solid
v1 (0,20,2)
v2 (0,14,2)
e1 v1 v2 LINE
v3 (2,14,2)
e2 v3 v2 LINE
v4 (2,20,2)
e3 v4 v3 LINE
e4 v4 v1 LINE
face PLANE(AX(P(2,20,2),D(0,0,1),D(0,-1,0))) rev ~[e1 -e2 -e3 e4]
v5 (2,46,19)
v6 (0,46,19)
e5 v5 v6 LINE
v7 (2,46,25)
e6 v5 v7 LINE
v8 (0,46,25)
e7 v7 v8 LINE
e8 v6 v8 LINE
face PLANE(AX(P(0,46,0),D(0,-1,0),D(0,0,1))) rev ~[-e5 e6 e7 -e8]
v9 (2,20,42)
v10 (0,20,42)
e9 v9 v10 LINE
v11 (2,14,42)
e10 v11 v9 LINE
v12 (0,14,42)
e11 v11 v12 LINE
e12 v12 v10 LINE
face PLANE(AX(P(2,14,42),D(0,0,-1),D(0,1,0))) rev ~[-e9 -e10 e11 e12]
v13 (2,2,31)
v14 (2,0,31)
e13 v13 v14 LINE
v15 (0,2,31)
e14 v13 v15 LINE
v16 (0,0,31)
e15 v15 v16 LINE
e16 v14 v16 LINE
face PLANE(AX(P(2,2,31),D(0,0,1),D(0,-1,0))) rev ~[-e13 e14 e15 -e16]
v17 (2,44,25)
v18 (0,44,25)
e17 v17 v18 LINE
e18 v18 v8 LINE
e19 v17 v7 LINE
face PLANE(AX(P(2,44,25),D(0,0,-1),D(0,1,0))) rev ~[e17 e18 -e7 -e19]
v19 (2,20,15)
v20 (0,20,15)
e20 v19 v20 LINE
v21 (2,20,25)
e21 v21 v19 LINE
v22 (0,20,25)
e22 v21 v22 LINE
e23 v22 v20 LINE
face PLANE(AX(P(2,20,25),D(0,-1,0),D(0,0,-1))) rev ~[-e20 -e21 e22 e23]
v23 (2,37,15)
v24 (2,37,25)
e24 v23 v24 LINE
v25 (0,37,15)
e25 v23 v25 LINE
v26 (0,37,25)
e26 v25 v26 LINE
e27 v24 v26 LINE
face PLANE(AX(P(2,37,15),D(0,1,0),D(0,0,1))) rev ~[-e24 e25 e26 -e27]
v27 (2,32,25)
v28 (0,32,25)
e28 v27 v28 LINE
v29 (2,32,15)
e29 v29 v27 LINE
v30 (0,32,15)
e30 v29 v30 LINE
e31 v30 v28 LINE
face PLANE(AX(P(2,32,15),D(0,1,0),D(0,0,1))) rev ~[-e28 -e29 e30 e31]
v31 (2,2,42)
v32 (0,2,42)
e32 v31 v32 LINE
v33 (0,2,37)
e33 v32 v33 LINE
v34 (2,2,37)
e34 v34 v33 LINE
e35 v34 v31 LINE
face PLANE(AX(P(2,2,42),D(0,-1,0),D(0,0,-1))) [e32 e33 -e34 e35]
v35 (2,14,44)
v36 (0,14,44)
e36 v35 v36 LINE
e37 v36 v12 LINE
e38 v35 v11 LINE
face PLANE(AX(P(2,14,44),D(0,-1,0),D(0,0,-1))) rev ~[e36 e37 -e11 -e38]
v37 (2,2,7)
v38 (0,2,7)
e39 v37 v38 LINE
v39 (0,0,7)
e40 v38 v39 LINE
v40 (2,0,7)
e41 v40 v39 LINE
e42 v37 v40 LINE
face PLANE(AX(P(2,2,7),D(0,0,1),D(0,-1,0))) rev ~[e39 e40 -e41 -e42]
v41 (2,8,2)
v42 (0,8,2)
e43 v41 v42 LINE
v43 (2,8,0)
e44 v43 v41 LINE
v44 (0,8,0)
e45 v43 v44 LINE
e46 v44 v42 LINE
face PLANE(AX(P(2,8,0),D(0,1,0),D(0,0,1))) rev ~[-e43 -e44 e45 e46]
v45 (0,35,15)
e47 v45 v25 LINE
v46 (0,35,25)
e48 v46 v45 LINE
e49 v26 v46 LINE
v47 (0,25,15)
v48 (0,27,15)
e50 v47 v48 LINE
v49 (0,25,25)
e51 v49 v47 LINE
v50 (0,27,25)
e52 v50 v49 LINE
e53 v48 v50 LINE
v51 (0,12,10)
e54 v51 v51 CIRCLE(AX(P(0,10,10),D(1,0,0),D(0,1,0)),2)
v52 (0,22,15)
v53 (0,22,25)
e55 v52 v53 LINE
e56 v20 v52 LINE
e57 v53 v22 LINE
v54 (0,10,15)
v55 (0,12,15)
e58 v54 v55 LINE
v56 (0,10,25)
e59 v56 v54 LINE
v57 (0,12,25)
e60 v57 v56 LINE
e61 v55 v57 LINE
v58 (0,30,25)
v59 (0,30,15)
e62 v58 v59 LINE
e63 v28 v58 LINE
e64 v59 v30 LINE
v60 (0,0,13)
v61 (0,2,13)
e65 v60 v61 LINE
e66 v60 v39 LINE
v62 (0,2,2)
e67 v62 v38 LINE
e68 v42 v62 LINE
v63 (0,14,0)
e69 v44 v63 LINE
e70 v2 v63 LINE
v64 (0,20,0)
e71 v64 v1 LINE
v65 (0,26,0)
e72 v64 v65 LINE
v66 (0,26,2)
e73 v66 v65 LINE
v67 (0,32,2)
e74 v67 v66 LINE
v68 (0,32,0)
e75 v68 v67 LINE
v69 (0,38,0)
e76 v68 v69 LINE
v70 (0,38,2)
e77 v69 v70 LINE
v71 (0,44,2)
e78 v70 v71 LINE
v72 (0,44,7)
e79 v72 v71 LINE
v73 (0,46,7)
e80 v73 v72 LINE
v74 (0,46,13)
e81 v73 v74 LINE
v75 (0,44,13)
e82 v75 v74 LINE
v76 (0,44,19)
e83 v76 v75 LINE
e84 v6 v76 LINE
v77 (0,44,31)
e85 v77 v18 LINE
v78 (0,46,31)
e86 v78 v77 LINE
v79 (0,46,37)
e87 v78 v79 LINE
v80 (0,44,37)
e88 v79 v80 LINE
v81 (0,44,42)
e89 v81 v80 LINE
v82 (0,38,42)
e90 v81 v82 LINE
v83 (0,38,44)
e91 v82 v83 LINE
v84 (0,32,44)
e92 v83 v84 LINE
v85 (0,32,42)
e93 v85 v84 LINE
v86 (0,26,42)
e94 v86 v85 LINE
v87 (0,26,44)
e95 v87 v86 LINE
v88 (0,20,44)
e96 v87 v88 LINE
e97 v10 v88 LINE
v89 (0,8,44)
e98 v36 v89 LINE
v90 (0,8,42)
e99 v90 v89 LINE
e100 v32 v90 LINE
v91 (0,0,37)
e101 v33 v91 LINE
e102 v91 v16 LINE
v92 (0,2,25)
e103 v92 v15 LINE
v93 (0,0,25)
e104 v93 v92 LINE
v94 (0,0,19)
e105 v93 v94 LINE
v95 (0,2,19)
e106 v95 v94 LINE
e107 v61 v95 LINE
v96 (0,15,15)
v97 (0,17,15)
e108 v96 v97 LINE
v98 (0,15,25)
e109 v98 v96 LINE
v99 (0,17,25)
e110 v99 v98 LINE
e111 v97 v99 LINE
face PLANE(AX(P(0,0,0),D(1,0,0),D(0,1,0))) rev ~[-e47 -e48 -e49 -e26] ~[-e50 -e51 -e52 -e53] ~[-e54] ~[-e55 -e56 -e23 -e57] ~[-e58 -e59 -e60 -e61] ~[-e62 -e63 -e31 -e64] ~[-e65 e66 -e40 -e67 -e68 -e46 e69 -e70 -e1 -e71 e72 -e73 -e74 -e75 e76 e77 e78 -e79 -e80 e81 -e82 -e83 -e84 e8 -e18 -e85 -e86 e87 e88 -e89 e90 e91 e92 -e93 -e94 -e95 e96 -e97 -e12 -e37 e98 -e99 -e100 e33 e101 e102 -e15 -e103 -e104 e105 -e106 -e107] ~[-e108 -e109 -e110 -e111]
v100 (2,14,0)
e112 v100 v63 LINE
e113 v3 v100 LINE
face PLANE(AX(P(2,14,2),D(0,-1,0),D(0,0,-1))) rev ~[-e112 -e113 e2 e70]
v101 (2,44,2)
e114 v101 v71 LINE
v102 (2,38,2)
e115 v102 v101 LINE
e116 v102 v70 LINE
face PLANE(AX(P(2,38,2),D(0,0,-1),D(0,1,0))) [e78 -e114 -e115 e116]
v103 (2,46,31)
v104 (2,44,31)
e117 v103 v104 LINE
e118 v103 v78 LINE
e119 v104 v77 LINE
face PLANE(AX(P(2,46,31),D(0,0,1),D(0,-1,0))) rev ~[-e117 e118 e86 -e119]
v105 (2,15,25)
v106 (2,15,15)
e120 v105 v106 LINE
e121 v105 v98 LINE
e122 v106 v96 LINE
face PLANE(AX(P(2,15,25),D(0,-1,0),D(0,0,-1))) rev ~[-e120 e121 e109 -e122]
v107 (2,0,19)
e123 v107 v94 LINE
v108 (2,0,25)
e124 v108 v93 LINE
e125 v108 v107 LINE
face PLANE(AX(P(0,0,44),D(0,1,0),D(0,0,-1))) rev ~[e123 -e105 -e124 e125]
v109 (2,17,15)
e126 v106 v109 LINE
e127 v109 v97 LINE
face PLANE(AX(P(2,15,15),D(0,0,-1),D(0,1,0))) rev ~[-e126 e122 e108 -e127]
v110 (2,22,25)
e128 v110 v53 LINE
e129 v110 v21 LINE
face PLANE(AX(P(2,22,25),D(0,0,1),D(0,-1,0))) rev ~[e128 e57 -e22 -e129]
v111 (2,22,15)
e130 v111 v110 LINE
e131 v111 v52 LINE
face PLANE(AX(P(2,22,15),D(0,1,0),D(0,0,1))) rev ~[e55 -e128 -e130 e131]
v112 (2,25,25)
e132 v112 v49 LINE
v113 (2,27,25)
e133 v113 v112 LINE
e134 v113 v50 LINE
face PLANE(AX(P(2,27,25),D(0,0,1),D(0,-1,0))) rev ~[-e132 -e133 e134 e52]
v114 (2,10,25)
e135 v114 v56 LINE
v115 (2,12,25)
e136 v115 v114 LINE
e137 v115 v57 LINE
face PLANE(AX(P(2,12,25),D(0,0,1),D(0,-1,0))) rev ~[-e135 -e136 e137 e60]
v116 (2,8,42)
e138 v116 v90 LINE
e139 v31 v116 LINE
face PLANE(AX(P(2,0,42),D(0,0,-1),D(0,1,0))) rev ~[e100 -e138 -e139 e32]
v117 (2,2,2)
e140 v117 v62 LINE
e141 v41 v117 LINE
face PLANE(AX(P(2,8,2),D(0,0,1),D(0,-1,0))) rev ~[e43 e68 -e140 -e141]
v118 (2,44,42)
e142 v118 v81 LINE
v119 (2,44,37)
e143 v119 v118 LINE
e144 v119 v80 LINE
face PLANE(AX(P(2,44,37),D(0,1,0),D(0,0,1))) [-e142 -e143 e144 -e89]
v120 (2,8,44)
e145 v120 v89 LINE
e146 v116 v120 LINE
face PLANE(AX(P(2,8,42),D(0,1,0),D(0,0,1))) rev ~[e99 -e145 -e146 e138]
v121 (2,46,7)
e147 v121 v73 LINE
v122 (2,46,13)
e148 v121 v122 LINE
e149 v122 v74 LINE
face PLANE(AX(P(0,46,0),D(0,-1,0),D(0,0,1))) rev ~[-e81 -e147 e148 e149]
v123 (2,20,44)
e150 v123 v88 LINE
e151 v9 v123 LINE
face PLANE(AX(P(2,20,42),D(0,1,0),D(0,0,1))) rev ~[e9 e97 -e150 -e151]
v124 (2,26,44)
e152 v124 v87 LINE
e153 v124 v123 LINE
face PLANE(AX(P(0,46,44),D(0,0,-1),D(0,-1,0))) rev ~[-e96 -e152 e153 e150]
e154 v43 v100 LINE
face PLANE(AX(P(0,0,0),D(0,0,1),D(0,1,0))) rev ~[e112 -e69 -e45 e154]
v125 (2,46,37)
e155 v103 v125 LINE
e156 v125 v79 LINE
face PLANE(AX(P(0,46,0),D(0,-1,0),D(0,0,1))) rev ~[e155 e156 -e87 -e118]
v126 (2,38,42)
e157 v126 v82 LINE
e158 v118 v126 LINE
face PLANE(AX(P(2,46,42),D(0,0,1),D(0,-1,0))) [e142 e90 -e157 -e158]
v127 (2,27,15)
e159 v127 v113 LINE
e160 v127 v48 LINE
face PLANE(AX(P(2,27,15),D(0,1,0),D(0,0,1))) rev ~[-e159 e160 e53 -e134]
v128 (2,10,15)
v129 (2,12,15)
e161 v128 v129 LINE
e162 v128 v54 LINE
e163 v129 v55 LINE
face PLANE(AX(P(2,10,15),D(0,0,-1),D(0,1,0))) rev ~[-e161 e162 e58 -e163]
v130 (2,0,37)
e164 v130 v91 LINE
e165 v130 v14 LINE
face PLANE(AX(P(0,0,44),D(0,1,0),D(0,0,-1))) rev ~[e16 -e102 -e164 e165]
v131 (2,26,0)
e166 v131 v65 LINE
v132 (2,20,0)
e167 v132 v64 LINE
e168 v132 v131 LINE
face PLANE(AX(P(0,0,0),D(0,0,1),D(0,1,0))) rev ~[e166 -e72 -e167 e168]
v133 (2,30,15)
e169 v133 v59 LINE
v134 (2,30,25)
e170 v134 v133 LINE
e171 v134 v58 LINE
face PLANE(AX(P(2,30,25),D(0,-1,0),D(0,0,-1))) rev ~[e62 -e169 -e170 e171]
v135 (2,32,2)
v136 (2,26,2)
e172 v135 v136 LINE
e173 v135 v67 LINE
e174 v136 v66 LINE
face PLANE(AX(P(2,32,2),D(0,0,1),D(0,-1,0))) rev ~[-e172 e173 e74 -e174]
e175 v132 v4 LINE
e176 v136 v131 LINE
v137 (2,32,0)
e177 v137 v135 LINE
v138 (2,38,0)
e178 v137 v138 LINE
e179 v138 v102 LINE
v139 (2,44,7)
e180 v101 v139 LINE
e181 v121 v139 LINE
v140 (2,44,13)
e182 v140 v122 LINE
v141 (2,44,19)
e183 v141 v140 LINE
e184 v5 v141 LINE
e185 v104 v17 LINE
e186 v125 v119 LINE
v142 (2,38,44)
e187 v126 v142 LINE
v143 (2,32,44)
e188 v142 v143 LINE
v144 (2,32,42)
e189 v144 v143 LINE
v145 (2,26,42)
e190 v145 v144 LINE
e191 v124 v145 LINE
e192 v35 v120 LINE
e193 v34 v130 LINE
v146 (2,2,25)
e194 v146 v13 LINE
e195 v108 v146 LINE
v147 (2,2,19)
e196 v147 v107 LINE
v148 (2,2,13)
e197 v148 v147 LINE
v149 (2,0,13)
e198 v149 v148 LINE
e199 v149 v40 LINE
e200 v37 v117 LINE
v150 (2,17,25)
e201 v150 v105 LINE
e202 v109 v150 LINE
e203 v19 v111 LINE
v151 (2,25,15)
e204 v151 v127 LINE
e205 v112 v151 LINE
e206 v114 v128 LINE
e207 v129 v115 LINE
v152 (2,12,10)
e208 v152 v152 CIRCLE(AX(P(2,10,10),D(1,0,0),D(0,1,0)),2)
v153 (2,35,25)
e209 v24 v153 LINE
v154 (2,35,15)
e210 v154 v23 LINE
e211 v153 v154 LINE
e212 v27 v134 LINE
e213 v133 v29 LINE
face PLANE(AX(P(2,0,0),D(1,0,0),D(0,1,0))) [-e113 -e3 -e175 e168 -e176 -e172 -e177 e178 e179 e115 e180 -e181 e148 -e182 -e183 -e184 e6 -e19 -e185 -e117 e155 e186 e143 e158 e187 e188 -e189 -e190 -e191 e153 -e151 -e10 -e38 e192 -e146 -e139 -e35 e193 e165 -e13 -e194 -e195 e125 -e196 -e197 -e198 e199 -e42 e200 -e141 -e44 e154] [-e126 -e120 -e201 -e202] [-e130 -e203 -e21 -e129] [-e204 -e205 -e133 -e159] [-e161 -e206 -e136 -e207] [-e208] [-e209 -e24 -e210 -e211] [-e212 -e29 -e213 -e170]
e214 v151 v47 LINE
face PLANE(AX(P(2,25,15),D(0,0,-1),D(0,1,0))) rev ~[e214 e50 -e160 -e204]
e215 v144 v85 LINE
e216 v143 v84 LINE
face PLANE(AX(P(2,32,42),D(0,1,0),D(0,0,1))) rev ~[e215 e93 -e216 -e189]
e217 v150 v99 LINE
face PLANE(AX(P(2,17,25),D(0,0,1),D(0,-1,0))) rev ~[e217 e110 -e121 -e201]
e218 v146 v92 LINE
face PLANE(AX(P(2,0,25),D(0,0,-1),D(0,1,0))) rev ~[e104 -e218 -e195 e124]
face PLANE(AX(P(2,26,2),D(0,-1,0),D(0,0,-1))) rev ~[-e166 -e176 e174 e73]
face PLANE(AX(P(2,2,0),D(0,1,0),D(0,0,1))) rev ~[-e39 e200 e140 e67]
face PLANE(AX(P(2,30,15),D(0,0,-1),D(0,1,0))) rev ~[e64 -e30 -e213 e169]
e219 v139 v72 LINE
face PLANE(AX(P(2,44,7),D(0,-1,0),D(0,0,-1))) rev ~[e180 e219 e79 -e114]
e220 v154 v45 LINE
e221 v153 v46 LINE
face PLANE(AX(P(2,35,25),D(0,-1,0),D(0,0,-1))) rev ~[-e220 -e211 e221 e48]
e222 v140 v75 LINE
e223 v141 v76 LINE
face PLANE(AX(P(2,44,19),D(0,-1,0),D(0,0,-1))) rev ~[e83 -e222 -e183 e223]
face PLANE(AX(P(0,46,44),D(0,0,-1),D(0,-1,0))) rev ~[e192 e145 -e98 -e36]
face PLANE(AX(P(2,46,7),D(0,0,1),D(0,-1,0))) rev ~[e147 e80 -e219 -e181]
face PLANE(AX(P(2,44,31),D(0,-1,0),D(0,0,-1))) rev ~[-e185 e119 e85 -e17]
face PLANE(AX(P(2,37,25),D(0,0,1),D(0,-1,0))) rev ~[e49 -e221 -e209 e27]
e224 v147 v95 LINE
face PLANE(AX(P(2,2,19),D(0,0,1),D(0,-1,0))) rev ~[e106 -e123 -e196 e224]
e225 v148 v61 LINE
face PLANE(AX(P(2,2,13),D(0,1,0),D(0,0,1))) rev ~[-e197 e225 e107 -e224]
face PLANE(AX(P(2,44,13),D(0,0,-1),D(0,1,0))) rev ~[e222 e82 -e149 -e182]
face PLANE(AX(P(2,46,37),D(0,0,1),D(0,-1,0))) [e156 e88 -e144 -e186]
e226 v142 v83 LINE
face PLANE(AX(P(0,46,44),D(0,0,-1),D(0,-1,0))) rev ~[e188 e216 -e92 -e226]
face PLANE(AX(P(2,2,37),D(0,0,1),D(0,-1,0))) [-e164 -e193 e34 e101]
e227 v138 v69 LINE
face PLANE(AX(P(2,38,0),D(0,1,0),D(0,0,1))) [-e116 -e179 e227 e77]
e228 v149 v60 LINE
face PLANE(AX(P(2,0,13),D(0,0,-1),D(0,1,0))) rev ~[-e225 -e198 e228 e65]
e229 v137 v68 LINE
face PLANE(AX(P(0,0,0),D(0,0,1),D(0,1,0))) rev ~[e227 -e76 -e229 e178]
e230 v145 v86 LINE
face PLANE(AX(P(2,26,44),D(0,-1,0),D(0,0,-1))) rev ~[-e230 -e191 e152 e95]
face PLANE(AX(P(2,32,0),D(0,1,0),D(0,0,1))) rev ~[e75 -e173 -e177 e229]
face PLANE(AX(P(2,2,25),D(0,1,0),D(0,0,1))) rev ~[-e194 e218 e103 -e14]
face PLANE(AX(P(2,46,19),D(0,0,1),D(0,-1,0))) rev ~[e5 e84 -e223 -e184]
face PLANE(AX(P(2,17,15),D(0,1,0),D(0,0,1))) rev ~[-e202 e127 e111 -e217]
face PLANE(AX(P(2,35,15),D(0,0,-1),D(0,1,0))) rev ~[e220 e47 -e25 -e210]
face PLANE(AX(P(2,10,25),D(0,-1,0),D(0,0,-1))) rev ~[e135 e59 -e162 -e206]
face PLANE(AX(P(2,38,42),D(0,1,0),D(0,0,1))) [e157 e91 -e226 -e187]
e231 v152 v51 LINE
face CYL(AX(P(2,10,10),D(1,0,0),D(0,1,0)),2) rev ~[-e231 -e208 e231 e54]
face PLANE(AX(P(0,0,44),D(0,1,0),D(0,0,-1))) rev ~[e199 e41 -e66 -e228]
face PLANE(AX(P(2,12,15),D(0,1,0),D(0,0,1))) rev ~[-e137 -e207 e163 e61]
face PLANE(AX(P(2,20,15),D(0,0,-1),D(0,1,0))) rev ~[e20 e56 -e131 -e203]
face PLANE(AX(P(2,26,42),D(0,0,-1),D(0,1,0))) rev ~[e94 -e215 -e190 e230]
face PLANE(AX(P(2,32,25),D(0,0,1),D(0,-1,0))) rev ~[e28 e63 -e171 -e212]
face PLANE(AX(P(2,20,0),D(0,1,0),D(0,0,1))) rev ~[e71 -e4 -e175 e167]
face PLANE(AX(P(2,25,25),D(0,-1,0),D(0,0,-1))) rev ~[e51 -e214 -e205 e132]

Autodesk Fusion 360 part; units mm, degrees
sketch "スケッチ1" plane through (0, 0, 0) normal (1, 0, 0) x (0, 1, 0)
  line L0 (0, 0) -> (46, 0)
  line L1 (46, 0) -> (46, 44)
  line L2 (46, 44) -> (0, 44)
  line L3 (0, 44) -> (0, 0)
  dimension "d1" = 46
  dimension "d2" = 44
extrude "押し出し1" add sketch "スケッチ1" along normal blind 2
sketch "スケッチ2" plane through (2, 0, 0) normal (1, 0, 0) x (0, 1, 0)
  line L0 (0, 44) -> (0, 0)
  line L1 (0, 0) -> (46, 0)
  line L2 (46, 0) -> (46, 44)
  line L3 (46, 44) -> (0, 44)
  line L4 (0, 0) -> (8, 0)
  line L5 (8, 0) -> (8, 2)
  line L6 (8, 2) -> (0, 2)
  line L7 (0, 2) -> (0, 0)
  line L8 (14, 0) -> (20, 0)
  line L9 (20, 0) -> (20, 2)
  line L10 (20, 2) -> (14, 2)
  line L11 (14, 2) -> (14, 0)
  line L12 (26, 0) -> (32, 0)
  line L13 (32, 0) -> (32, 2)
  line L14 (32, 2) -> (26, 2)
  line L15 (26, 2) -> (26, 0)
  line L16 (46, 0) -> (38, 0)
  line L17 (38, 0) -> (38, 2)
  line L18 (38, 2) -> (46, 2)
  line L19 (46, 2) -> (46, 0)
  line L20 (32, 42) -> (32, 44)
  line L21 (32, 44) -> (26, 44)
  line L22 (20, 42) -> (20, 44)
  line L23 (38, 42) -> (38, 44)
  line L24 (38, 44) -> (46, 44)
  line L25 (46, 44) -> (46, 42)
  line L26 (0, 42) -> (8, 42)
  line L27 (26, 44) -> (26, 42)
  line L28 (8, 42) -> (8, 44)
  line L29 (8, 44) -> (0, 44)
  line L30 (0, 44) -> (0, 42)
  line L31 (20, 44) -> (14, 44)
  line L32 (26, 42) -> (32, 42)
  line L33 (46, 42) -> (38, 42)
  line L34 (14, 42) -> (20, 42)
  line L35 (14, 44) -> (14, 42)
  point P0 (0, 42)
  dimension "d5" = 8
  dimension "d6" = 2
  dimension "d7" = 6
  dimension "d8" = 2
  dimension "d9" = 6
  dimension "d10" = 6
  dimension "d11" = 2
  dimension "d12" = 6
  dimension "d13" = 6
  dimension "d14" = 2
extrude "押し出し2" cut sketch "スケッチ2" against normal blind 2 contours L0 L3 L26 L28 L29 L30 | L0 L1 L4 L5 L6 L7 | L3 L22 L31 L34 L35 | L3 L20 L21 L27 L32 | L1 L8 L9 L10 L11 | L2 L3 L23 L24 L25 L33 | L1 L12 L13 L14 L15 | L1 L2 L16 L17 L18 L19
sketch "スケッチ3" plane through (2, 0, 0) normal (1, 0, 0) x (0, 1, 0)
  line L0 (8, 2) -> (8, 0)
  line L1 (8, 0) -> (14, 0)
  line L2 (14, 0) -> (14, 2)
  line L3 (14, 2) -> (20, 2)
  line L4 (20, 2) -> (20, 0)
  line L5 (20, 0) -> (26, 0)
  line L6 (26, 0) -> (26, 2)
  line L7 (26, 2) -> (32, 2)
  line L8 (32, 2) -> (32, 0)
  line L9 (32, 0) -> (38, 0)
  line L10 (38, 0) -> (38, 2)
  line L11 (38, 2) -> (46, 2)
  line L12 (46, 2) -> (46, 42)
  line L13 (46, 42) -> (38, 42)
  line L14 (38, 42) -> (38, 44)
  line L15 (38, 44) -> (32, 44)
  line L16 (32, 44) -> (32, 42)
  line L17 (32, 42) -> (26, 42)
  line L18 (26, 42) -> (26, 44)
  line L19 (26, 44) -> (20, 44)
  line L20 (20, 44) -> (20, 42)
  line L21 (20, 42) -> (14, 42)
  line L22 (14, 42) -> (14, 44)
  line L23 (14, 44) -> (8, 44)
  line L24 (8, 44) -> (8, 42)
  line L25 (8, 42) -> (0, 42)
  line L26 (0, 42) -> (0, 2)
  line L27 (0, 2) -> (8, 2)
  line L28 (0, 44) -> (2, 44)
  line L29 (2, 44) -> (2, 37)
  line L30 (2, 37) -> (0, 37)
  line L31 (0, 37) -> (0, 44)
  line L32 (2, 31) -> (0, 31)
  line L33 (0, 31) -> (0, 25)
  line L34 (0, 25) -> (2, 25)
  line L35 (2, 25) -> (2, 31)
  line L36 (2, 19) -> (0, 19)
  line L37 (0, 19) -> (0, 13)
  line L38 (0, 13) -> (2, 13)
  line L39 (2, 13) -> (2, 19)
  line L40 (2, 7) -> (0, 7)
  line L41 (0, 7) -> (0, 0)
  line L42 (0, 0) -> (2, 0)
  line L43 (2, 0) -> (2, 7)
  line L44 (46, 31) -> (44, 31)
  line L45 (46, 13) -> (46, 19)
  line L46 (44, 44) -> (46, 44)
  line L47 (44, 0) -> (46, 0)
  line L48 (44, 7) -> (44, 0)
  line L49 (44, 25) -> (46, 25)
  line L50 (46, 37) -> (44, 37)
  line L51 (44, 37) -> (44, 44)
  line L52 (44, 13) -> (46, 13)
  line L53 (44, 31) -> (44, 25)
  line L54 (46, 19) -> (44, 19)
  line L55 (44, 19) -> (44, 13)
  line L56 (46, 25) -> (46, 31)
  line L57 (46, 7) -> (44, 7)
  line L58 (46, 0) -> (46, 7)
  line L59 (46, 44) -> (46, 37)
  point P0 (44, 0)
  dimension "d21" = 2
  dimension "d22" = 7
  dimension "d23" = 2
  dimension "d24" = 6
  dimension "d25" = 6
  dimension "d26" = 6
  dimension "d27" = 6
  dimension "d28" = 2
  dimension "d29" = 6
  dimension "d30" = 7
  dimension "d31" = 2
extrude "押し出し3" cut sketch "スケッチ3" against normal blind 2 contours L27 L41 L42 L43 | L26 L27 L40 L41 L43 | L26 L36 L37 L38 L39 | L26 L32 L33 L34 L35 | L25 L26 L29 L30 L31 | L25 L28 L29 L31 | L11 L12 L48 L57 L58 | L11 L47 L48 L58 | L12 L45 L52 L54 L55 | L12 L44 L49 L53 L56 | L12 L13 L50 L51 L59 | L13 L46 L51 L59
sketch "スケッチ4" plane through (2, 0, 0) normal (1, 0, 0) x (0, 1, 0)
  line L0 (44, 19) -> (46, 19)
  line L1 (46, 19) -> (46, 25)
  line L2 (46, 25) -> (44, 25)
  line L3 (44, 25) -> (44, 31)
  line L4 (44, 31) -> (46, 31)
  line L5 (46, 31) -> (46, 37)
  line L6 (46, 37) -> (44, 37)
  line L7 (44, 37) -> (44, 42)
  line L8 (44, 42) -> (38, 42)
  line L9 (38, 42) -> (38, 44)
  line L10 (38, 44) -> (32, 44)
  line L11 (32, 44) -> (32, 42)
  line L12 (32, 42) -> (26, 42)
  line L13 (26, 42) -> (26, 44)
  line L14 (26, 44) -> (20, 44)
  line L15 (20, 44) -> (20, 42)
  line L16 (20, 42) -> (14, 42)
  line L17 (14, 42) -> (14, 44)
  line L18 (14, 44) -> (8, 44)
  line L19 (8, 44) -> (8, 42)
  line L20 (8, 42) -> (2, 42)
  line L21 (2, 42) -> (2, 37)
  line L22 (2, 37) -> (0, 37)
  line L23 (0, 37) -> (0, 31)
  line L24 (0, 31) -> (2, 31)
  line L25 (2, 31) -> (2, 25)
  line L26 (2, 25) -> (0, 25)
  line L27 (0, 25) -> (0, 19)
  line L28 (0, 19) -> (2, 19)
  line L29 (2, 19) -> (2, 13)
  line L30 (2, 13) -> (0, 13)
  line L31 (0, 13) -> (0, 7)
  line L32 (0, 7) -> (2, 7)
  line L33 (2, 7) -> (2, 2)
  line L34 (2, 2) -> (8, 2)
  line L35 (8, 2) -> (8, 0)
  line L36 (8, 0) -> (14, 0)
  line L37 (14, 0) -> (14, 2)
  line L38 (14, 2) -> (20, 2)
  line L39 (20, 2) -> (20, 0)
  line L40 (20, 0) -> (26, 0)
  line L41 (26, 0) -> (26, 2)
  line L42 (26, 2) -> (32, 2)
  line L43 (32, 2) -> (32, 0)
  line L44 (32, 0) -> (38, 0)
  line L45 (38, 0) -> (38, 2)
  line L46 (38, 2) -> (44, 2)
  line L47 (44, 2) -> (44, 7)
  line L48 (44, 7) -> (46, 7)
  line L49 (46, 7) -> (46, 13)
  line L50 (46, 13) -> (44, 13)
  line L51 (44, 13) -> (44, 19)
  line L52 (10, 15) -> (12, 15)
  line L53 (12, 15) -> (12, 25)
  line L54 (12, 25) -> (10, 25)
  line L55 (10, 25) -> (10, 15)
  line L56 (15, 15) -> (17, 15)
  line L57 (17, 15) -> (17, 25)
  line L58 (17, 25) -> (15, 25)
  line L59 (15, 25) -> (15, 15)
  line L60 (20, 15) -> (22, 15)
  line L61 (22, 15) -> (22, 25)
  line L62 (22, 25) -> (20, 25)
  line L63 (20, 25) -> (20, 15)
  line L64 (25, 15) -> (27, 15)
  line L65 (27, 15) -> (27, 25)
  line L66 (27, 25) -> (25, 25)
  line L67 (25, 25) -> (25, 15)
  line L68 (30, 15) -> (32, 15)
  line L69 (32, 15) -> (32, 25)
  line L70 (32, 25) -> (30, 25)
  line L71 (30, 25) -> (30, 15)
  line L72 (35, 15) -> (37, 15)
  line L73 (37, 15) -> (37, 25)
  line L74 (37, 25) -> (35, 25)
  line L75 (35, 25) -> (35, 15)
extrude "押し出し4" cut sketch "スケッチ4" against normal blind 2 contours L52 L53 L54 L55 | L56 L57 L58 L59 | L60 L61 L62 L63 | L64 L65 L66 L67 | L68 L69 L70 L71 | L72 L73 L74 L75
sketch "スケッチ5" plane through (2, 0, 0) normal (1, 0, 0) x (0, 1, 0)
  line L0 (37, 15) -> (35, 15)
  line L1 (35, 15) -> (35, 25)
  line L2 (35, 25) -> (37, 25)
  line L3 (37, 25) -> (37, 15)
  line L4 (32, 15) -> (30, 15)
  line L5 (30, 15) -> (30, 25)
  line L6 (30, 25) -> (32, 25)
  line L7 (32, 25) -> (32, 15)
  line L8 (17, 15) -> (15, 15)
  line L9 (15, 15) -> (15, 25)
  line L10 (15, 25) -> (17, 25)
  line L11 (17, 25) -> (17, 15)
  line L12 (12, 15) -> (10, 15)
  line L13 (10, 15) -> (10, 25)
  line L14 (10, 25) -> (12, 25)
  line L15 (12, 25) -> (12, 15)
  line L16 (22, 15) -> (20, 15)
  line L17 (20, 15) -> (20, 25)
  line L18 (20, 25) -> (22, 25)
  line L19 (22, 25) -> (22, 15)
  line L20 (27, 15) -> (25, 15)
  line L21 (25, 15) -> (25, 25)
  line L22 (25, 25) -> (27, 25)
  line L23 (27, 25) -> (27, 15)
  line L24 (44, 19) -> (46, 19)
  line L25 (46, 19) -> (46, 25)
  line L26 (46, 25) -> (44, 25)
  line L27 (44, 25) -> (44, 31)
  line L28 (44, 31) -> (46, 31)
  line L29 (46, 31) -> (46, 37)
  line L30 (46, 37) -> (44, 37)
  line L31 (44, 37) -> (44, 42)
  line L32 (44, 42) -> (38, 42)
  line L33 (38, 42) -> (38, 44)
  line L34 (38, 44) -> (32, 44)
  line L35 (32, 44) -> (32, 42)
  line L36 (32, 42) -> (26, 42)
  line L37 (26, 42) -> (26, 44)
  line L38 (26, 44) -> (20, 44)
  line L39 (20, 44) -> (20, 42)
  line L40 (20, 42) -> (14, 42)
  line L41 (14, 42) -> (14, 44)
  line L42 (14, 44) -> (8, 44)
  line L43 (8, 44) -> (8, 42)
  line L44 (8, 42) -> (2, 42)
  line L45 (2, 42) -> (2, 37)
  line L46 (2, 37) -> (0, 37)
  line L47 (0, 37) -> (0, 31)
  line L48 (0, 31) -> (2, 31)
  line L49 (2, 31) -> (2, 25)
  line L50 (2, 25) -> (0, 25)
  line L51 (0, 25) -> (0, 19)
  line L52 (0, 19) -> (2, 19)
  line L53 (2, 19) -> (2, 13)
  line L54 (2, 13) -> (0, 13)
  line L55 (0, 13) -> (0, 7)
  line L56 (0, 7) -> (2, 7)
  line L57 (2, 7) -> (2, 2)
  line L58 (2, 2) -> (8, 2)
  line L59 (8, 2) -> (8, 0)
  line L60 (8, 0) -> (14, 0)
  line L61 (14, 0) -> (14, 2)
  line L62 (14, 2) -> (20, 2)
  line L63 (20, 2) -> (20, 0)
  line L64 (20, 0) -> (26, 0)
  line L65 (26, 0) -> (26, 2)
  line L66 (26, 2) -> (32, 2)
  line L67 (32, 2) -> (32, 0)
  line L68 (32, 0) -> (38, 0)
  line L69 (38, 0) -> (38, 2)
  line L70 (38, 2) -> (44, 2)
  line L71 (44, 2) -> (44, 7)
  line L72 (44, 7) -> (46, 7)
  line L73 (46, 7) -> (46, 13)
  line L74 (46, 13) -> (44, 13)
  line L75 (44, 13) -> (44, 19)
  circle A0 centre (10, 10) radius 2
extrude "押し出し5" cut sketch "スケッチ5" against normal blind 2 contours A0
sketch "スケッチ6" plane through (2, 0, 0) normal (1, 0, 0) x (0, 1, 0)
  circle A0 centre (10, 10) radius 2
  line L0 (37, 15) -> (35, 15)
  line L1 (35, 15) -> (35, 25)
  line L2 (35, 25) -> (37, 25)
  line L3 (37, 25) -> (37, 15)
  line L4 (32, 15) -> (30, 15)
  line L5 (30, 15) -> (30, 25)
  line L6 (30, 25) -> (32, 25)
  line L7 (32, 25) -> (32, 15)
  line L8 (17, 15) -> (15, 15)
  line L9 (15, 15) -> (15, 25)
  line L10 (15, 25) -> (17, 25)
  line L11 (17, 25) -> (17, 15)
  line L12 (12, 15) -> (10, 15)
  line L13 (10, 15) -> (10, 25)
  line L14 (10, 25) -> (12, 25)
  line L15 (12, 25) -> (12, 15)
  line L16 (22, 15) -> (20, 15)
  line L17 (20, 15) -> (20, 25)
  line L18 (20, 25) -> (22, 25)
  line L19 (22, 25) -> (22, 15)
  line L20 (27, 15) -> (25, 15)
  line L21 (25, 15) -> (25, 25)
  line L22 (25, 25) -> (27, 25)
  line L23 (27, 25) -> (27, 15)
  line L24 (44, 19) -> (46, 19)
  line L25 (46, 19) -> (46, 25)
  line L26 (46, 25) -> (44, 25)
  line L27 (44, 25) -> (44, 31)
  line L28 (44, 31) -> (46, 31)
  line L29 (46, 31) -> (46, 37)
  line L30 (46, 37) -> (44, 37)
  line L31 (44, 37) -> (44, 42)
  line L32 (44, 42) -> (38, 42)
  line L33 (38, 42) -> (38, 44)
  line L34 (38, 44) -> (32, 44)
  line L35 (32, 44) -> (32, 42)
  line L36 (32, 42) -> (26, 42)
  line L37 (26, 42) -> (26, 44)
  line L38 (26, 44) -> (20, 44)
  line L39 (20, 44) -> (20, 42)
  line L40 (20, 42) -> (14, 42)
  line L41 (14, 42) -> (14, 44)
  line L42 (14, 44) -> (8, 44)
  line L43 (8, 44) -> (8, 42)
  line L44 (8, 42) -> (2, 42)
  line L45 (2, 42) -> (2, 37)
  line L46 (2, 37) -> (0, 37)
  line L47 (0, 37) -> (0, 31)
  line L48 (0, 31) -> (2, 31)
  line L49 (2, 31) -> (2, 25)
  line L50 (2, 25) -> (0, 25)
  line L51 (0, 25) -> (0, 19)
  line L52 (0, 19) -> (2, 19)
  line L53 (2, 19) -> (2, 13)
  line L54 (2, 13) -> (0, 13)
  line L55 (0, 13) -> (0, 7)
  line L56 (0, 7) -> (2, 7)
  line L57 (2, 7) -> (2, 2)
  line L58 (2, 2) -> (8, 2)
  line L59 (8, 2) -> (8, 0)
  line L60 (8, 0) -> (14, 0)
  line L61 (14, 0) -> (14, 2)
  line L62 (14, 2) -> (20, 2)
  line L63 (20, 2) -> (20, 0)
  line L64 (20, 0) -> (26, 0)
  line L65 (26, 0) -> (26, 2)
  line L66 (26, 2) -> (32, 2)
  line L67 (32, 2) -> (32, 0)
  line L68 (32, 0) -> (38, 0)
  line L69 (38, 0) -> (38, 2)
  line L70 (38, 2) -> (44, 2)
  line L71 (44, 2) -> (44, 7)
  line L72 (44, 7) -> (46, 7)
  line L73 (46, 7) -> (46, 13)
  line L74 (46, 13) -> (44, 13)
  line L75 (44, 13) -> (44, 19)
